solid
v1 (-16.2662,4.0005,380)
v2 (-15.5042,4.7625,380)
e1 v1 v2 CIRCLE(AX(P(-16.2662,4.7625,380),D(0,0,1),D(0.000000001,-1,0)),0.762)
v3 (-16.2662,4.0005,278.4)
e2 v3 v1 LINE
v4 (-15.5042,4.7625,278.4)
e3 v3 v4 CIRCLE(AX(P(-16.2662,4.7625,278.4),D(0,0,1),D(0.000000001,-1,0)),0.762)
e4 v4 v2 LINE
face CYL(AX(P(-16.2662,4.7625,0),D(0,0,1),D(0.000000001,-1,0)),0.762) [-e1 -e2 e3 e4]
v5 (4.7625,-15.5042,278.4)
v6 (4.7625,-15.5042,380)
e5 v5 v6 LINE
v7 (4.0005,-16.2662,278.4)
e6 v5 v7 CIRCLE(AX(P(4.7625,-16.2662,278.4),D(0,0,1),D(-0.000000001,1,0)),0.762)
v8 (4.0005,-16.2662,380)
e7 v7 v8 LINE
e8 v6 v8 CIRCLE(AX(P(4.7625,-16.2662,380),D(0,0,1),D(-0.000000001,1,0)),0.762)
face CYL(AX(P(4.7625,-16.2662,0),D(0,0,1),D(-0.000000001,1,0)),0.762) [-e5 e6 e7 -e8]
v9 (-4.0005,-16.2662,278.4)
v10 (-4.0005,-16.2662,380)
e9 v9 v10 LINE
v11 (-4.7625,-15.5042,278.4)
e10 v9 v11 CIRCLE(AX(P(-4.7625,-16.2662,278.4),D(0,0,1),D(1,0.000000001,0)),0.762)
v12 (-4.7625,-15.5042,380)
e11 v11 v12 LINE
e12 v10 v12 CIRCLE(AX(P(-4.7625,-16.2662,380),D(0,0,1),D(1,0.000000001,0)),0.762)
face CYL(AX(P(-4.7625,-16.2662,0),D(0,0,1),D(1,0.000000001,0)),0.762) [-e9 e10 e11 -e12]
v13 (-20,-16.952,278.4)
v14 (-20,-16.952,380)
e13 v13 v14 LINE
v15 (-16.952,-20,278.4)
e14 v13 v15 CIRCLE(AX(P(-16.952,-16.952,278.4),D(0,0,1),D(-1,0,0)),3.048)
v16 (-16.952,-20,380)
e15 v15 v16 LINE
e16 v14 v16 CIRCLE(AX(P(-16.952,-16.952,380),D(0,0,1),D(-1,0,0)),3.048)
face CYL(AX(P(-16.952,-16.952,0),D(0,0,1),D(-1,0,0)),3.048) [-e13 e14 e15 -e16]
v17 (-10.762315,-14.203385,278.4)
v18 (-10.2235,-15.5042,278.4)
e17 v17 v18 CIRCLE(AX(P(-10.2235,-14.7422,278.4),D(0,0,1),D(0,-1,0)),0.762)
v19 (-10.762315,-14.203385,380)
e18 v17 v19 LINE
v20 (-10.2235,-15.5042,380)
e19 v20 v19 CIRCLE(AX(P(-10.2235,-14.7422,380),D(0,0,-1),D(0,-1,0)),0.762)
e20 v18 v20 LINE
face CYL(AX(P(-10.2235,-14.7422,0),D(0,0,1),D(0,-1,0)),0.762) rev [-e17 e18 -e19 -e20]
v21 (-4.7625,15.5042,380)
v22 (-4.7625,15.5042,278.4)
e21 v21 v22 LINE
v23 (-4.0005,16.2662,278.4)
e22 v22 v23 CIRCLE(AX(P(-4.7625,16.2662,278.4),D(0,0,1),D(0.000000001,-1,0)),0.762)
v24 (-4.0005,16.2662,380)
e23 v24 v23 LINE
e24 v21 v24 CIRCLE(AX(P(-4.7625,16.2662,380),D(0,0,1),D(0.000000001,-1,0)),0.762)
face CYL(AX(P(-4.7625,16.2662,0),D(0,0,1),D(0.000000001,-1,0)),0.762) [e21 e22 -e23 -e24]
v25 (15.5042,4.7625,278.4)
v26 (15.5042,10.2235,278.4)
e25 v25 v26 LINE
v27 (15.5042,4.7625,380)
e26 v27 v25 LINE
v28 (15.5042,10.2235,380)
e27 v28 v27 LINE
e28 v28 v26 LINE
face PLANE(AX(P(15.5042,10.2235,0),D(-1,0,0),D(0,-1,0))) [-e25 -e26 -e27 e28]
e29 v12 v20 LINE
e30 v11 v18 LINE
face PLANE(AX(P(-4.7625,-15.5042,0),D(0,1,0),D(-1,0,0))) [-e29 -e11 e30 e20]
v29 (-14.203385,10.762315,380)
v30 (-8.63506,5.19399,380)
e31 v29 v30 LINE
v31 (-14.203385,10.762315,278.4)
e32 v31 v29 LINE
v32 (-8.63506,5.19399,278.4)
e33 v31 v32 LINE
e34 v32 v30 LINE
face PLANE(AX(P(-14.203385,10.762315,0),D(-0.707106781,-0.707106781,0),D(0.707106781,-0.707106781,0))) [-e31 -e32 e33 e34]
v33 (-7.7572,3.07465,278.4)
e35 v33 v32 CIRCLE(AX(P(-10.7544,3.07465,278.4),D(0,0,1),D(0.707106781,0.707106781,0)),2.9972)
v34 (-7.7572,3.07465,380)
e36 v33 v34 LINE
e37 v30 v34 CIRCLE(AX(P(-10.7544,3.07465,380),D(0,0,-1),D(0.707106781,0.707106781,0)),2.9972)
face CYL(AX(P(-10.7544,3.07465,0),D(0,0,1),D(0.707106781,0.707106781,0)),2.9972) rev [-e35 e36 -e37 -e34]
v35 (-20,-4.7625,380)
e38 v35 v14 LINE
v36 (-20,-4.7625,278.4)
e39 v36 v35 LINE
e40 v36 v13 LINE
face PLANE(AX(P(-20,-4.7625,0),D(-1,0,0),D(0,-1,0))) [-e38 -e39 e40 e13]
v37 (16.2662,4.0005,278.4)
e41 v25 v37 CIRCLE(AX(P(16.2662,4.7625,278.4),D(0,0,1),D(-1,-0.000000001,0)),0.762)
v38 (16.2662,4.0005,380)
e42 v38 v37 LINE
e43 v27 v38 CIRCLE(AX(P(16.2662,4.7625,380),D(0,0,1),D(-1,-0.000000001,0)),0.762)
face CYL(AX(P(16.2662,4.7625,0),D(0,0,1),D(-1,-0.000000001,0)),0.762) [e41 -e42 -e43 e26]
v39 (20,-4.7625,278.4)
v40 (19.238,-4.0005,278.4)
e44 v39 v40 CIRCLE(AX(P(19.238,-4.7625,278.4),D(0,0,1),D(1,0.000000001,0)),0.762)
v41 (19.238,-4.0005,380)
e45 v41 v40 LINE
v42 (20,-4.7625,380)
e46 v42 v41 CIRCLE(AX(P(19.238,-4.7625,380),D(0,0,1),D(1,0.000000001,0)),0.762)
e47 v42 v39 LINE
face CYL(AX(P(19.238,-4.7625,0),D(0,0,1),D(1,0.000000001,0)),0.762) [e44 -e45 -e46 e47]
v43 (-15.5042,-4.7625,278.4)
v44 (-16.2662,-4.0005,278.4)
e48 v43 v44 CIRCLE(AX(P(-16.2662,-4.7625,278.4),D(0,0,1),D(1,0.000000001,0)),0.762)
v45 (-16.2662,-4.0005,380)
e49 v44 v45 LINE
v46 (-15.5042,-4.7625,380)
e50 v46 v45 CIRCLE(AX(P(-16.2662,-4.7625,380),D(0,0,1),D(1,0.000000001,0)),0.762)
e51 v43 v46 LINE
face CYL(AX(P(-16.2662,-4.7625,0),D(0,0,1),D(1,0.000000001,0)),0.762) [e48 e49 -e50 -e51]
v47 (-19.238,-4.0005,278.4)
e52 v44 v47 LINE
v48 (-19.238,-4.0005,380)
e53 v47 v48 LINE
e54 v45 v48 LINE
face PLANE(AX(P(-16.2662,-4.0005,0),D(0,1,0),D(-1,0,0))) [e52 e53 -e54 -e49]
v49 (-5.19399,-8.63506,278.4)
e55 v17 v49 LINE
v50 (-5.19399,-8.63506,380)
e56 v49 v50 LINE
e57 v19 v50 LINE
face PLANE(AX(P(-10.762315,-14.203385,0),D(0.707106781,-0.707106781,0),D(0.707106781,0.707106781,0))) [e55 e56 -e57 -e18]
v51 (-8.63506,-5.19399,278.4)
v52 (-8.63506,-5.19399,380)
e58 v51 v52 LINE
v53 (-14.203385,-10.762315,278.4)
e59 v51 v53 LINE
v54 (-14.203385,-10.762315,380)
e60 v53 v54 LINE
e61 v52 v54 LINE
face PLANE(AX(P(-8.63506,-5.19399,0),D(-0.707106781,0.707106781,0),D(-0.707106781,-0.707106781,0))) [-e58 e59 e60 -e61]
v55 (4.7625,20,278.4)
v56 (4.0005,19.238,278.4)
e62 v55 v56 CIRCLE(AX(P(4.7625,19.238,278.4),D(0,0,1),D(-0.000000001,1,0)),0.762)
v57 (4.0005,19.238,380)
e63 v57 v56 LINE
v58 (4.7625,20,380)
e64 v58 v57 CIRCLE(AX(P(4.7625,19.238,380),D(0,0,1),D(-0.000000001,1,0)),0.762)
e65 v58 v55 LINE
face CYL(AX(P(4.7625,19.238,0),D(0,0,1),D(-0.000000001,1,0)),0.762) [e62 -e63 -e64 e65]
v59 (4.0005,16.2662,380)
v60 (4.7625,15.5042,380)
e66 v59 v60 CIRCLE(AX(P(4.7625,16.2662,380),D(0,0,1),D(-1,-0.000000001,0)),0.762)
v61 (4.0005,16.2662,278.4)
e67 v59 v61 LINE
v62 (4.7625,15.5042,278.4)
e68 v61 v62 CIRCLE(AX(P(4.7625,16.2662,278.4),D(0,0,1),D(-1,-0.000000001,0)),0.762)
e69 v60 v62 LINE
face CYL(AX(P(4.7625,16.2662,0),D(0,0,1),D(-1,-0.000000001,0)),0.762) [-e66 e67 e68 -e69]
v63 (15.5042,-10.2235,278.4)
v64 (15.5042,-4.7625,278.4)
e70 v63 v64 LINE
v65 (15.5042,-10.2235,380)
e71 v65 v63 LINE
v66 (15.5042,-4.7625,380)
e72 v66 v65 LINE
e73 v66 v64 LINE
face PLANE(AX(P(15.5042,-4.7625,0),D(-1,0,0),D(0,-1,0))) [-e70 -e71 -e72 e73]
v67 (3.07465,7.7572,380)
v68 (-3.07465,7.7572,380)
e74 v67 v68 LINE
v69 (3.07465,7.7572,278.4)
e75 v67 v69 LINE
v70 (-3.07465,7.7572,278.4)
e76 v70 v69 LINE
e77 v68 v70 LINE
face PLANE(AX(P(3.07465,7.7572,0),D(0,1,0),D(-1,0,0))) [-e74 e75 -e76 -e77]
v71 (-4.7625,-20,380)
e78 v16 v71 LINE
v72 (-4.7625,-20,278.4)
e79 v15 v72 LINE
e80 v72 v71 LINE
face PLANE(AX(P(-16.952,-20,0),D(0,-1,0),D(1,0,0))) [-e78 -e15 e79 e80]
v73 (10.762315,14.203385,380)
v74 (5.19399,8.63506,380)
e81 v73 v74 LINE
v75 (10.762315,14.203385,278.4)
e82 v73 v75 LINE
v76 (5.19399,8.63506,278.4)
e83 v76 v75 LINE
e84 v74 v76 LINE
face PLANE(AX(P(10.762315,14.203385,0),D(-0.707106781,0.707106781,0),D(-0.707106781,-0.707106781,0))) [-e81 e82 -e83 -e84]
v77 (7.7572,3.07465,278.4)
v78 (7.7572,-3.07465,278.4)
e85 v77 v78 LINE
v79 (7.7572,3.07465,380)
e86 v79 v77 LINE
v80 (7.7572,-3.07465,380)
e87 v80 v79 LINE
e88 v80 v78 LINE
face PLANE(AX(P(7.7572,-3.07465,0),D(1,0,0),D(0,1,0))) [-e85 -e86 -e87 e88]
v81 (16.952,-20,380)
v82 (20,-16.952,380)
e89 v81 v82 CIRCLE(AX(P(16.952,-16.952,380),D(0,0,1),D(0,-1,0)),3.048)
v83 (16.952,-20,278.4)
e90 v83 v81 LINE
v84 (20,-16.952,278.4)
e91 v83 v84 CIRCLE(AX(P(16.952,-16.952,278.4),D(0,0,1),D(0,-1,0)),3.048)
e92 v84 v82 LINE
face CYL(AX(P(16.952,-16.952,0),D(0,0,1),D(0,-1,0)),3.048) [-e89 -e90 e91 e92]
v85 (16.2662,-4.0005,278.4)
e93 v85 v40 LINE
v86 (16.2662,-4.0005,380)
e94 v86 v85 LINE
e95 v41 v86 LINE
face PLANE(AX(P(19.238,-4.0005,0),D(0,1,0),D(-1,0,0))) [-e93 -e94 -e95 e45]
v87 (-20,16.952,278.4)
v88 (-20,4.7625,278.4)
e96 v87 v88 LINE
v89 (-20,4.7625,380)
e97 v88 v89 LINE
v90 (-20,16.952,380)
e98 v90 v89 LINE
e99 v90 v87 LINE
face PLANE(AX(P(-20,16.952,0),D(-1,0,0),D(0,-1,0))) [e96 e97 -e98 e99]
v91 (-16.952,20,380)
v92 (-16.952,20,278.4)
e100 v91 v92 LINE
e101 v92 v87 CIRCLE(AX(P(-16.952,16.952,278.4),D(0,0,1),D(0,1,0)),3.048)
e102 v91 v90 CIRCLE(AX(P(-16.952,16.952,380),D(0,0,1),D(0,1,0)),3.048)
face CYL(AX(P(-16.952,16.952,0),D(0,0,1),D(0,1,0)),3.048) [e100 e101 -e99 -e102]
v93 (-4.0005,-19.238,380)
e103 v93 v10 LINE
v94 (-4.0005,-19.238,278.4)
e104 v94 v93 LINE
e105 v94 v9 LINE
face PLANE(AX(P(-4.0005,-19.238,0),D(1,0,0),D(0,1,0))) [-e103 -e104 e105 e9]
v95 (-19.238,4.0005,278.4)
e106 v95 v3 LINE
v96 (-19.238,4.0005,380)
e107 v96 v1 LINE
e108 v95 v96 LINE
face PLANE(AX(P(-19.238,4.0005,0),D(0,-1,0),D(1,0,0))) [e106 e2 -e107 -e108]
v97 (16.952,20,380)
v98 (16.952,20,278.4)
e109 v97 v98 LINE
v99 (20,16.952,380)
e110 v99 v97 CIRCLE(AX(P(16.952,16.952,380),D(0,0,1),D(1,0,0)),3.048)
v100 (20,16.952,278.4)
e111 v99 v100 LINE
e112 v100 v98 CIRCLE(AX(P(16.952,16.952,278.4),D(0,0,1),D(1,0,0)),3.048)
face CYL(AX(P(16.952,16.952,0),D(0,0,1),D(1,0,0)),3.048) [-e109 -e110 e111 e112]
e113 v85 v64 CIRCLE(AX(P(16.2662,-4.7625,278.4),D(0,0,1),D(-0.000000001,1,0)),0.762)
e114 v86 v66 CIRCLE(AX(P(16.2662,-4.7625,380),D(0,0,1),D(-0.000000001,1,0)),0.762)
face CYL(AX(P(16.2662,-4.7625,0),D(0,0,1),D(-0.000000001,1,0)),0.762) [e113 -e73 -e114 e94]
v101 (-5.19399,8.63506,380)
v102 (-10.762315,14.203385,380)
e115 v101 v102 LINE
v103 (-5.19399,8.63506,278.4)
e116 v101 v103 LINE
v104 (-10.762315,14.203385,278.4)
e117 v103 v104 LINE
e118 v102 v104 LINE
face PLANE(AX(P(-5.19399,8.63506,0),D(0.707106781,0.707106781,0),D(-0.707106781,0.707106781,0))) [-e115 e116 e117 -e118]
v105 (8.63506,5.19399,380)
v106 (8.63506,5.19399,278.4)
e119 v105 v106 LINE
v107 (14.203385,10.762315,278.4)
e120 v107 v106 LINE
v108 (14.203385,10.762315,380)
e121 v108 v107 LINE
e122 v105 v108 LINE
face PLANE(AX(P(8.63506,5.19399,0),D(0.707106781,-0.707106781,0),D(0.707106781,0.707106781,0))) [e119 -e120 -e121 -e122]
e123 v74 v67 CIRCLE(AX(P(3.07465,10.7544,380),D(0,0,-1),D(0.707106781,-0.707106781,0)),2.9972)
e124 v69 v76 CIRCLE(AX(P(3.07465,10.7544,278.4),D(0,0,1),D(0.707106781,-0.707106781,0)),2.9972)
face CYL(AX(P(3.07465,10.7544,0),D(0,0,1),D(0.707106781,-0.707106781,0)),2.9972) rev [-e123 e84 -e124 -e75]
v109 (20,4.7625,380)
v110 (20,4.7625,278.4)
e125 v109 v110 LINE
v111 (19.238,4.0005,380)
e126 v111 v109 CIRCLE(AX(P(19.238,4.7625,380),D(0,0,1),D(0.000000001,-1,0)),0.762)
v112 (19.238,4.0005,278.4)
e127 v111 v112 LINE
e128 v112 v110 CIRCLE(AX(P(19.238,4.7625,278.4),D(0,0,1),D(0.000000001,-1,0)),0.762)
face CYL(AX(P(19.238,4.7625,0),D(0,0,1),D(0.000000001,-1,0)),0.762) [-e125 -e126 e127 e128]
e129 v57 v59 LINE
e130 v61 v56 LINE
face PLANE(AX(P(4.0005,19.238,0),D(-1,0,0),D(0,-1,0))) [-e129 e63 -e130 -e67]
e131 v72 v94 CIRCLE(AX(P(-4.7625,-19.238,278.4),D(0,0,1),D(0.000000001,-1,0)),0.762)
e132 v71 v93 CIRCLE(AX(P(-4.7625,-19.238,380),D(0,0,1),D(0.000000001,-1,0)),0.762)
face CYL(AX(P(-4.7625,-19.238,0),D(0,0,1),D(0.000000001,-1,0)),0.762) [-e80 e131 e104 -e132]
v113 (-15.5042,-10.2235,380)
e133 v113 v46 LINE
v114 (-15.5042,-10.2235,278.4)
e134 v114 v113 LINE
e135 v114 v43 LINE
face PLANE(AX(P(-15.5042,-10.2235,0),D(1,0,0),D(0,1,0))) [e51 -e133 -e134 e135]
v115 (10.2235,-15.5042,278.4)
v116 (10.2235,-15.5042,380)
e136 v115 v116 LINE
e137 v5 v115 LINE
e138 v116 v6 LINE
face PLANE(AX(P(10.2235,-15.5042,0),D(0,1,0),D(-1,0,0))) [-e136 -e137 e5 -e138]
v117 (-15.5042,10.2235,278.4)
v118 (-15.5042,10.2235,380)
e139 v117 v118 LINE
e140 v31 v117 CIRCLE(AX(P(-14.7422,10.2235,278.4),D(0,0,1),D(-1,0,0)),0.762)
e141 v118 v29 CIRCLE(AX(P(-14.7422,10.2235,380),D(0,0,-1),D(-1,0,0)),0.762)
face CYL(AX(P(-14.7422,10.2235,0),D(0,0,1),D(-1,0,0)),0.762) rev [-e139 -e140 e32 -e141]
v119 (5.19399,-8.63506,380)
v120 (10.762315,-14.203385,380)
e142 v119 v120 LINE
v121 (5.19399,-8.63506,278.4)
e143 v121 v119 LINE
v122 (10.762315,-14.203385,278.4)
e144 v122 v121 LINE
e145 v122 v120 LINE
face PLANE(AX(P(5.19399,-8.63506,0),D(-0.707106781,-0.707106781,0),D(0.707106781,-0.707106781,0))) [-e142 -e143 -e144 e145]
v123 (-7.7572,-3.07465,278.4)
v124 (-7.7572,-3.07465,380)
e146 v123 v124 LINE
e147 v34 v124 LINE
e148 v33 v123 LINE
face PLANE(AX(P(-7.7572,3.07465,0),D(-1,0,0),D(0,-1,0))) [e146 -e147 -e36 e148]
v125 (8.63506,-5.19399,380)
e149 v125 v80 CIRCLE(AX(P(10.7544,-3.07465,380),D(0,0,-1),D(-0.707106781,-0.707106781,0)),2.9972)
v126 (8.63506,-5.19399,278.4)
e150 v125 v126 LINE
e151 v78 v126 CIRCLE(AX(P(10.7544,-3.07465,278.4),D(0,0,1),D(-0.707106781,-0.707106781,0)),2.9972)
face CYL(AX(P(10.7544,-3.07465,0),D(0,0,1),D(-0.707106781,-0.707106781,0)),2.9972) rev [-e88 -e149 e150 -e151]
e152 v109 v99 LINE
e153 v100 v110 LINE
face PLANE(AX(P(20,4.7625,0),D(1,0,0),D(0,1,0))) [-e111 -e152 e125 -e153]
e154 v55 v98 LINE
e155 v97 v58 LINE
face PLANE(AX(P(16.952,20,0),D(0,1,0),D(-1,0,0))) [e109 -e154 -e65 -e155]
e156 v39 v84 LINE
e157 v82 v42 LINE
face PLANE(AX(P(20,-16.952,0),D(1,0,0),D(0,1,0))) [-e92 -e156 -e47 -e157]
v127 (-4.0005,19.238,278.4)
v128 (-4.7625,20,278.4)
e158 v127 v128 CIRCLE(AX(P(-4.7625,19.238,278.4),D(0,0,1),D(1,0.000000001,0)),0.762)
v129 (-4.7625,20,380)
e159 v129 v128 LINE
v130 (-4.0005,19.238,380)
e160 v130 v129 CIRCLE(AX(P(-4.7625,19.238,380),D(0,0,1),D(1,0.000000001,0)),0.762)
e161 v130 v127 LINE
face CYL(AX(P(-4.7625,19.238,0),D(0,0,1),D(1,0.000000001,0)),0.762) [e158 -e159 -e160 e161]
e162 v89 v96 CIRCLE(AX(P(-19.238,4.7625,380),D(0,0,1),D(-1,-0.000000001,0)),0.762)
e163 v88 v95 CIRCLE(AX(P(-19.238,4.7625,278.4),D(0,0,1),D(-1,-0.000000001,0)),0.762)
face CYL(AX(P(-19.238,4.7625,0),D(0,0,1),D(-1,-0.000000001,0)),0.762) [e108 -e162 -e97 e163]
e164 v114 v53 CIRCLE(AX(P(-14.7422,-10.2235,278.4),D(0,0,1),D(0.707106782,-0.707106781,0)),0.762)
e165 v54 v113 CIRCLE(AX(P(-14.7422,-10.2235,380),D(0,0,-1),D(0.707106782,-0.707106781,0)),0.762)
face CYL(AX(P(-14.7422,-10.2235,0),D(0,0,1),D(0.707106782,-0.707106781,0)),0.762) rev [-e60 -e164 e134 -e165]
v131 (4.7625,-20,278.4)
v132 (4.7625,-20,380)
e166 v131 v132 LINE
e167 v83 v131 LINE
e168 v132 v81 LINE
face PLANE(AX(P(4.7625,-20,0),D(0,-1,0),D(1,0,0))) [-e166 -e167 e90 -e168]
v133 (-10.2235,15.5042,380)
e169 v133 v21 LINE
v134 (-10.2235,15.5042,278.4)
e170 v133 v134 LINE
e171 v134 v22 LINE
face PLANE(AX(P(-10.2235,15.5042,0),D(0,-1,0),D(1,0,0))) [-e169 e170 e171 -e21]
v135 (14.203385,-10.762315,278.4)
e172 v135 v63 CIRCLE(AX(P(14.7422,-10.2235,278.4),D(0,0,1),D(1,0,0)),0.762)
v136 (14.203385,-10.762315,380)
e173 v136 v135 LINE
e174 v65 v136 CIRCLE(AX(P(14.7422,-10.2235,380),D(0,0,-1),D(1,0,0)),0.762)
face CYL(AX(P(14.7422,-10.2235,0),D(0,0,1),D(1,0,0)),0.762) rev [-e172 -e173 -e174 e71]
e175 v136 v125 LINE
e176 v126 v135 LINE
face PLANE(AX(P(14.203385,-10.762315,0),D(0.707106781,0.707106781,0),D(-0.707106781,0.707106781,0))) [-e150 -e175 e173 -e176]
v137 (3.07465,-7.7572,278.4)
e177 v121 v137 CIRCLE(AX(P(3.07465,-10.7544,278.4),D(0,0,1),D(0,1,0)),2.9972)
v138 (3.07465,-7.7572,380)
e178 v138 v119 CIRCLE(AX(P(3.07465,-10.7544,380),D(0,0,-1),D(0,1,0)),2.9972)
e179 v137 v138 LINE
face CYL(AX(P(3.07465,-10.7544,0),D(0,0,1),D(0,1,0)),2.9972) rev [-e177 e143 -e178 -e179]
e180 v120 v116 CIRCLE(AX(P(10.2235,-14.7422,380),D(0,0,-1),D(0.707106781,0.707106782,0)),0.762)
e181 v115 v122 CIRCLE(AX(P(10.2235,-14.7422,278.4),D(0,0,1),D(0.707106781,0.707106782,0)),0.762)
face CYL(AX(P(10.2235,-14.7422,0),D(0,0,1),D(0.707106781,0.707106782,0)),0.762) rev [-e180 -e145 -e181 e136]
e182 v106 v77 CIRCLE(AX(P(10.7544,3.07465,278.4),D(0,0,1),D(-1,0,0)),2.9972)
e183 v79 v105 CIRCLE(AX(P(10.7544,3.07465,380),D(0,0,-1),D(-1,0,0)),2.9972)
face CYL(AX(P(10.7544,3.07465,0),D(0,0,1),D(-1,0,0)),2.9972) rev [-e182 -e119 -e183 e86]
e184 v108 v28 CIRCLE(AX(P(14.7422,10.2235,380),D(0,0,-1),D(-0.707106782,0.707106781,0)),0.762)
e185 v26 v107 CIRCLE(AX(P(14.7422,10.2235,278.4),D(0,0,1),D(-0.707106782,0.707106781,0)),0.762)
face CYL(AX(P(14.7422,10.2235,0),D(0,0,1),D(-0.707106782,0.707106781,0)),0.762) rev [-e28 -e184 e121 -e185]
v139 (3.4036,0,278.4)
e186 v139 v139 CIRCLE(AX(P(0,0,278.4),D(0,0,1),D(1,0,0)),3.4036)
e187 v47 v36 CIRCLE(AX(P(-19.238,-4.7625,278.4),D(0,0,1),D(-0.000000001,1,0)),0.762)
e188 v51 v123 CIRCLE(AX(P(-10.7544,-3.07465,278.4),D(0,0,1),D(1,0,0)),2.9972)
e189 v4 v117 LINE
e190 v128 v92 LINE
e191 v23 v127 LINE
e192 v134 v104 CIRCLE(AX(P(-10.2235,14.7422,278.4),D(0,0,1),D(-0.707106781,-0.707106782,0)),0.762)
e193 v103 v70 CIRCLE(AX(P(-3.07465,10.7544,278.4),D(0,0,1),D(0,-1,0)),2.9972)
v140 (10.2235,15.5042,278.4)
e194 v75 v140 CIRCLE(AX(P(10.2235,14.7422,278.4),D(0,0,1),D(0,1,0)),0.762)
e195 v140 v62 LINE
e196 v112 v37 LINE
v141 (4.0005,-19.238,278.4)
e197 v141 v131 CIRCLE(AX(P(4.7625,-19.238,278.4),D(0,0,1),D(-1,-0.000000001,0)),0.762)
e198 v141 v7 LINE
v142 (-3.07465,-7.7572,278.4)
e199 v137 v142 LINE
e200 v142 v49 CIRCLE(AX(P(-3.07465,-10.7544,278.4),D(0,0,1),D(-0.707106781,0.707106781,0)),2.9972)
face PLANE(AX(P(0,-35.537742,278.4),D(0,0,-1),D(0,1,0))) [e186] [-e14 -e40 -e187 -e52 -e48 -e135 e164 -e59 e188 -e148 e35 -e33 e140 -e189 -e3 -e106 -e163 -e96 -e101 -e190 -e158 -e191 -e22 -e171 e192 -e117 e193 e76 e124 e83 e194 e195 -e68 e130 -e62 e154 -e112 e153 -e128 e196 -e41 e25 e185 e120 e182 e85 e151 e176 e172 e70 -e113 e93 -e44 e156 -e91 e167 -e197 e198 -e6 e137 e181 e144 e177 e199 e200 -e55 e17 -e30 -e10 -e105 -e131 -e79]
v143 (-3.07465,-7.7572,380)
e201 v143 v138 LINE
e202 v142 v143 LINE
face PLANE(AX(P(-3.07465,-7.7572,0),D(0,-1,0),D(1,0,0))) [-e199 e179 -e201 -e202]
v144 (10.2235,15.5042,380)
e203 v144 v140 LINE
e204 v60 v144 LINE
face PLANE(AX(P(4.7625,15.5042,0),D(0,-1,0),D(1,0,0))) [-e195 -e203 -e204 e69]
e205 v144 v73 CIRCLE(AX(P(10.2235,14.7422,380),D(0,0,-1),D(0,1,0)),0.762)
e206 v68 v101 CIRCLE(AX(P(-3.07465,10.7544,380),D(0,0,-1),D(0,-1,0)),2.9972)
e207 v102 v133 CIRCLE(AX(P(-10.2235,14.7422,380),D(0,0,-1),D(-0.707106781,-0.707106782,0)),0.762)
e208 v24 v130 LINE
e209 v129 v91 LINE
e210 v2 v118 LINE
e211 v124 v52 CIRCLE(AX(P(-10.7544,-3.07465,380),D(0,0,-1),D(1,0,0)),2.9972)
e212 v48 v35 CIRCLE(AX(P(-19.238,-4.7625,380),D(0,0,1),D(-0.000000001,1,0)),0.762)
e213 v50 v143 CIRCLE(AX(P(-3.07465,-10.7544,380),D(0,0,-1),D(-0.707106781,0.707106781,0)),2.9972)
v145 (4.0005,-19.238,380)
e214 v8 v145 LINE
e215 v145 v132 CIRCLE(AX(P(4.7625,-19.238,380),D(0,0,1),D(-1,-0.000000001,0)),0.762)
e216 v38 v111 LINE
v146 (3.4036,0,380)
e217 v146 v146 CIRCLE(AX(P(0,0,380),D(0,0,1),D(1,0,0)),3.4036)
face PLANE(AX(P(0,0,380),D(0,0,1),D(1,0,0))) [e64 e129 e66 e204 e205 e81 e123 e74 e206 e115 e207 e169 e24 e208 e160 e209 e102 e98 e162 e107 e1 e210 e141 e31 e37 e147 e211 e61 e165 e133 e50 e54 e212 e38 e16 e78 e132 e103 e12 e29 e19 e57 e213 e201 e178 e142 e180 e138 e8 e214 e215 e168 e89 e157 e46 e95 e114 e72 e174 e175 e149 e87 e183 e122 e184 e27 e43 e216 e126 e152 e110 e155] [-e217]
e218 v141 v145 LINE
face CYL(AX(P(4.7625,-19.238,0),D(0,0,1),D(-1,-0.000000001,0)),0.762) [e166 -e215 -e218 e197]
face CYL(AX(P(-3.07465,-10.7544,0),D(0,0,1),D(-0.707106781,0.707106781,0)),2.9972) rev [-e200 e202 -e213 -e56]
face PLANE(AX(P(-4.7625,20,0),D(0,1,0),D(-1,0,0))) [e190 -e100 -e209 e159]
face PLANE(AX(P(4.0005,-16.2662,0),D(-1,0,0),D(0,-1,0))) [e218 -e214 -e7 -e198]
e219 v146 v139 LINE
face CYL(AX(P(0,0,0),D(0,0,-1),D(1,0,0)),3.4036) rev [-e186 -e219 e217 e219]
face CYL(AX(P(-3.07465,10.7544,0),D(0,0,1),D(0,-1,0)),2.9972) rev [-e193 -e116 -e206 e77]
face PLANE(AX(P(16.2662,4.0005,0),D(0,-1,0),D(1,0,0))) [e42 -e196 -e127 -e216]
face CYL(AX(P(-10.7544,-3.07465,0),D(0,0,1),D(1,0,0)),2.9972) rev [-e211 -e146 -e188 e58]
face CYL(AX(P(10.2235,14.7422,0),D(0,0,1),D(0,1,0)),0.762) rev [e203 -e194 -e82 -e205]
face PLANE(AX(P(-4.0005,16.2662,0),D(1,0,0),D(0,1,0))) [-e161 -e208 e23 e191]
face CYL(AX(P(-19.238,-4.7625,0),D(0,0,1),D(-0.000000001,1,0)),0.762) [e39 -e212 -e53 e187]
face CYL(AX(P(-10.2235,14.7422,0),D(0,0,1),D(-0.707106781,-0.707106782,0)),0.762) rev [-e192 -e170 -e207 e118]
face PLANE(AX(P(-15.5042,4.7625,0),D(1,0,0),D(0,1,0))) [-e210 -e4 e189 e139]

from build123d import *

# Parameters (mm, degrees)
SKETCH1_R               = 3.4036
BOSS_EXTRUDE1_DEPTH     = 380
SKETCH2_W               = 379
SKETCH2_H               = 40
CUT_EXTRUDE1_DEPTH      = 65
CUT_EXTRUDE1_DEPTH_BACK = 71
SKETCH4_W               = 279.4
SKETCH4_H               = 55.537742005
CUT_EXTRUDE2_DEPTH      = 30
CUT_EXTRUDE2_DEPTH_BACK = 30


with BuildPart() as part:
    # Sketch1 → Boss-Extrude1 (new body, symmetric)
    with BuildSketch(Plane.XY):
        with BuildLine():
            Line((-20, 16.952), (-20, 4.7625))
            ThreePointArc((-20, 4.7625), (-19.776815367, 4.223684633), (-19.238, 4.0005))
            Line((-19.238, 4.0005), (-16.2662, 4.0005))
            ThreePointArc((-16.2662, 4.0005), (-15.727384633, 4.223684633), (-15.5042, 4.7625))
            Line((-15.5042, 4.7625), (-15.5042, 10.2235))
            ThreePointArc((-15.5042, 10.2235), (-15.033804775, 10.927496204), (-14.203384633, 10.762315367))
            Line((-14.203384633, 10.762315367), (-8.635059555, 5.19399029))
            ThreePointArc((-8.635059555, 5.19399029), (-7.985348265, 4.221628629), (-7.7572, 3.074649845))
            Line((-7.7572, 3.074649845), (-7.7572, -3.074649845))
            ThreePointArc((-7.7572, -3.074649845), (-7.985348265, -4.221628629), (-8.635059555, -5.19399029))
            Line((-8.635059555, -5.19399029), (-14.203384633, -10.762315367))
            ThreePointArc((-14.203384633, -10.762315367), (-15.033804775, -10.927496204), (-15.5042, -10.2235))
            Line((-15.5042, -10.2235), (-15.5042, -4.7625))
            ThreePointArc((-15.5042, -4.7625), (-15.727384633, -4.223684633), (-16.2662, -4.0005))
            Line((-16.2662, -4.0005), (-19.238, -4.0005))
            ThreePointArc((-19.238, -4.0005), (-19.776815367, -4.223684633), (-20, -4.7625))
            Line((-20, -4.7625), (-20, -16.952))
            ThreePointArc((-20, -16.952), (-19.107261469, -19.107261469), (-16.952, -20))
            Line((-16.952, -20), (-4.7625, -20))
            ThreePointArc((-4.7625, -20), (-4.223684633, -19.776815367), (-4.0005, -19.238))
            Line((-4.0005, -19.238), (-4.0005, -16.2662))
            ThreePointArc((-4.0005, -16.2662), (-4.223684633, -15.727384633), (-4.7625, -15.5042))
            Line((-4.7625, -15.5042), (-10.2235, -15.5042))
            ThreePointArc((-10.2235, -15.5042), (-10.927496204, -15.033804775), (-10.762315367, -14.203384633))
            Line((-10.762315367, -14.203384633), (-5.19399029, -8.635059555))
            ThreePointArc((-5.19399029, -8.635059555), (-4.221628629, -7.985348265), (-3.074649845, -7.7572))
            Line((-3.074649845, -7.7572), (3.074649845, -7.7572))
            ThreePointArc((3.074649845, -7.7572), (4.221628629, -7.985348265), (5.19399029, -8.635059555))
            Line((5.19399029, -8.635059555), (10.762315367, -14.203384633))
            ThreePointArc((10.762315367, -14.203384633), (10.927496204, -15.033804775), (10.2235, -15.5042))
            Line((10.2235, -15.5042), (4.7625, -15.5042))
            ThreePointArc((4.7625, -15.5042), (4.223684633, -15.727384633), (4.0005, -16.2662))
            Line((4.0005, -16.2662), (4.0005, -19.238))
            ThreePointArc((4.0005, -19.238), (4.223684633, -19.776815367), (4.7625, -20))
            Line((4.7625, -20), (16.952, -20))
            ThreePointArc((16.952, -20), (19.107261469, -19.107261469), (20, -16.952))
            Line((20, -16.952), (20, -4.7625))
            ThreePointArc((20, -4.7625), (19.776815367, -4.223684633), (19.238, -4.0005))
            Line((19.238, -4.0005), (16.2662, -4.0005))
            ThreePointArc((16.2662, -4.0005), (15.727384633, -4.223684633), (15.5042, -4.7625))
            Line((15.5042, -4.7625), (15.5042, -10.2235))
            ThreePointArc((15.5042, -10.2235), (15.033804775, -10.927496204), (14.203384633, -10.762315367))
            Line((14.203384633, -10.762315367), (8.635059555, -5.19399029))
            ThreePointArc((8.635059555, -5.19399029), (7.985348265, -4.221628629), (7.7572, -3.074649845))
            Line((7.7572, -3.074649845), (7.7572, 3.074649845))
            ThreePointArc((7.7572, 3.074649845), (7.985348265, 4.221628629), (8.635059555, 5.19399029))
            Line((8.635059555, 5.19399029), (14.203384633, 10.762315367))
            ThreePointArc((14.203384633, 10.762315367), (15.033804775, 10.927496204), (15.5042, 10.2235))
            Line((15.5042, 10.2235), (15.5042, 4.7625))
            ThreePointArc((15.5042, 4.7625), (15.727384633, 4.223684633), (16.2662, 4.0005))
            Line((16.2662, 4.0005), (19.238, 4.0005))
            ThreePointArc((19.238, 4.0005), (19.776815367, 4.223684633), (20, 4.7625))
            Line((20, 4.7625), (20, 16.952))
            ThreePointArc((20, 16.952), (19.107261469, 19.107261469), (16.952, 20))
            Line((16.952, 20), (4.7625, 20))
            ThreePointArc((4.7625, 20), (4.223684633, 19.776815367), (4.0005, 19.238))
            Line((4.0005, 19.238), (4.0005, 16.2662))
            ThreePointArc((4.0005, 16.2662), (4.223684633, 15.727384633), (4.7625, 15.5042))
            Line((4.7625, 15.5042), (10.2235, 15.5042))
            ThreePointArc((10.2235, 15.5042), (10.927496204, 15.033804775), (10.762315367, 14.203384633))
            Line((10.762315367, 14.203384633), (5.19399029, 8.635059555))
            ThreePointArc((5.19399029, 8.635059555), (4.221628629, 7.985348265), (3.074649845, 7.7572))
            Line((3.074649845, 7.7572), (-3.074649845, 7.7572))
            ThreePointArc((-3.074649845, 7.7572), (-4.221628629, 7.985348265), (-5.19399029, 8.635059555))
            Line((-5.19399029, 8.635059555), (-10.762315367, 14.203384633))
            ThreePointArc((-10.762315367, 14.203384633), (-10.927496204, 15.033804775), (-10.2235, 15.5042))
            Line((-10.2235, 15.5042), (-4.7625, 15.5042))
            ThreePointArc((-4.7625, 15.5042), (-4.223684633, 15.727384633), (-4.0005, 16.2662))
            Line((-4.0005, 16.2662), (-4.0005, 19.238))
            ThreePointArc((-4.0005, 19.238), (-4.223684633, 19.776815367), (-4.7625, 20))
            Line((-4.7625, 20), (-16.952, 20))
            ThreePointArc((-16.952, 20), (-19.107261469, 19.107261469), (-20, 16.952))
        make_face()
        Circle(SKETCH1_R, mode=Mode.SUBTRACT)
    extrude(amount=BOSS_EXTRUDE1_DEPTH, both=True)

    # Sketch2 → Cut-Extrude1 (cut, two sides)
    with BuildSketch(Plane(origin=(0, 0, 0), x_dir=(0, 0, -1), z_dir=(1, 0, 0))) as cut_extrude1_sk:
        with Locations((190.5, 0)):
            Rectangle(SKETCH2_W, SKETCH2_H)
    extrude(amount=CUT_EXTRUDE1_DEPTH, mode=Mode.SUBTRACT)
    extrude(cut_extrude1_sk.sketch, amount=-CUT_EXTRUDE1_DEPTH_BACK, mode=Mode.SUBTRACT)

    # Sketch4 → Cut-Extrude2 (cut, two sides)
    with BuildSketch(Plane(origin=(0, 0, 0), x_dir=(0, 0, -1), z_dir=(1, 0, 0))) as cut_extrude2_sk:
        with Locations((-138.7, -7.768871003)):
            Rectangle(SKETCH4_W, SKETCH4_H)
    extrude(amount=CUT_EXTRUDE2_DEPTH, mode=Mode.SUBTRACT)
    extrude(cut_extrude2_sk.sketch, amount=-CUT_EXTRUDE2_DEPTH_BACK, mode=Mode.SUBTRACT)


solid = part.part
